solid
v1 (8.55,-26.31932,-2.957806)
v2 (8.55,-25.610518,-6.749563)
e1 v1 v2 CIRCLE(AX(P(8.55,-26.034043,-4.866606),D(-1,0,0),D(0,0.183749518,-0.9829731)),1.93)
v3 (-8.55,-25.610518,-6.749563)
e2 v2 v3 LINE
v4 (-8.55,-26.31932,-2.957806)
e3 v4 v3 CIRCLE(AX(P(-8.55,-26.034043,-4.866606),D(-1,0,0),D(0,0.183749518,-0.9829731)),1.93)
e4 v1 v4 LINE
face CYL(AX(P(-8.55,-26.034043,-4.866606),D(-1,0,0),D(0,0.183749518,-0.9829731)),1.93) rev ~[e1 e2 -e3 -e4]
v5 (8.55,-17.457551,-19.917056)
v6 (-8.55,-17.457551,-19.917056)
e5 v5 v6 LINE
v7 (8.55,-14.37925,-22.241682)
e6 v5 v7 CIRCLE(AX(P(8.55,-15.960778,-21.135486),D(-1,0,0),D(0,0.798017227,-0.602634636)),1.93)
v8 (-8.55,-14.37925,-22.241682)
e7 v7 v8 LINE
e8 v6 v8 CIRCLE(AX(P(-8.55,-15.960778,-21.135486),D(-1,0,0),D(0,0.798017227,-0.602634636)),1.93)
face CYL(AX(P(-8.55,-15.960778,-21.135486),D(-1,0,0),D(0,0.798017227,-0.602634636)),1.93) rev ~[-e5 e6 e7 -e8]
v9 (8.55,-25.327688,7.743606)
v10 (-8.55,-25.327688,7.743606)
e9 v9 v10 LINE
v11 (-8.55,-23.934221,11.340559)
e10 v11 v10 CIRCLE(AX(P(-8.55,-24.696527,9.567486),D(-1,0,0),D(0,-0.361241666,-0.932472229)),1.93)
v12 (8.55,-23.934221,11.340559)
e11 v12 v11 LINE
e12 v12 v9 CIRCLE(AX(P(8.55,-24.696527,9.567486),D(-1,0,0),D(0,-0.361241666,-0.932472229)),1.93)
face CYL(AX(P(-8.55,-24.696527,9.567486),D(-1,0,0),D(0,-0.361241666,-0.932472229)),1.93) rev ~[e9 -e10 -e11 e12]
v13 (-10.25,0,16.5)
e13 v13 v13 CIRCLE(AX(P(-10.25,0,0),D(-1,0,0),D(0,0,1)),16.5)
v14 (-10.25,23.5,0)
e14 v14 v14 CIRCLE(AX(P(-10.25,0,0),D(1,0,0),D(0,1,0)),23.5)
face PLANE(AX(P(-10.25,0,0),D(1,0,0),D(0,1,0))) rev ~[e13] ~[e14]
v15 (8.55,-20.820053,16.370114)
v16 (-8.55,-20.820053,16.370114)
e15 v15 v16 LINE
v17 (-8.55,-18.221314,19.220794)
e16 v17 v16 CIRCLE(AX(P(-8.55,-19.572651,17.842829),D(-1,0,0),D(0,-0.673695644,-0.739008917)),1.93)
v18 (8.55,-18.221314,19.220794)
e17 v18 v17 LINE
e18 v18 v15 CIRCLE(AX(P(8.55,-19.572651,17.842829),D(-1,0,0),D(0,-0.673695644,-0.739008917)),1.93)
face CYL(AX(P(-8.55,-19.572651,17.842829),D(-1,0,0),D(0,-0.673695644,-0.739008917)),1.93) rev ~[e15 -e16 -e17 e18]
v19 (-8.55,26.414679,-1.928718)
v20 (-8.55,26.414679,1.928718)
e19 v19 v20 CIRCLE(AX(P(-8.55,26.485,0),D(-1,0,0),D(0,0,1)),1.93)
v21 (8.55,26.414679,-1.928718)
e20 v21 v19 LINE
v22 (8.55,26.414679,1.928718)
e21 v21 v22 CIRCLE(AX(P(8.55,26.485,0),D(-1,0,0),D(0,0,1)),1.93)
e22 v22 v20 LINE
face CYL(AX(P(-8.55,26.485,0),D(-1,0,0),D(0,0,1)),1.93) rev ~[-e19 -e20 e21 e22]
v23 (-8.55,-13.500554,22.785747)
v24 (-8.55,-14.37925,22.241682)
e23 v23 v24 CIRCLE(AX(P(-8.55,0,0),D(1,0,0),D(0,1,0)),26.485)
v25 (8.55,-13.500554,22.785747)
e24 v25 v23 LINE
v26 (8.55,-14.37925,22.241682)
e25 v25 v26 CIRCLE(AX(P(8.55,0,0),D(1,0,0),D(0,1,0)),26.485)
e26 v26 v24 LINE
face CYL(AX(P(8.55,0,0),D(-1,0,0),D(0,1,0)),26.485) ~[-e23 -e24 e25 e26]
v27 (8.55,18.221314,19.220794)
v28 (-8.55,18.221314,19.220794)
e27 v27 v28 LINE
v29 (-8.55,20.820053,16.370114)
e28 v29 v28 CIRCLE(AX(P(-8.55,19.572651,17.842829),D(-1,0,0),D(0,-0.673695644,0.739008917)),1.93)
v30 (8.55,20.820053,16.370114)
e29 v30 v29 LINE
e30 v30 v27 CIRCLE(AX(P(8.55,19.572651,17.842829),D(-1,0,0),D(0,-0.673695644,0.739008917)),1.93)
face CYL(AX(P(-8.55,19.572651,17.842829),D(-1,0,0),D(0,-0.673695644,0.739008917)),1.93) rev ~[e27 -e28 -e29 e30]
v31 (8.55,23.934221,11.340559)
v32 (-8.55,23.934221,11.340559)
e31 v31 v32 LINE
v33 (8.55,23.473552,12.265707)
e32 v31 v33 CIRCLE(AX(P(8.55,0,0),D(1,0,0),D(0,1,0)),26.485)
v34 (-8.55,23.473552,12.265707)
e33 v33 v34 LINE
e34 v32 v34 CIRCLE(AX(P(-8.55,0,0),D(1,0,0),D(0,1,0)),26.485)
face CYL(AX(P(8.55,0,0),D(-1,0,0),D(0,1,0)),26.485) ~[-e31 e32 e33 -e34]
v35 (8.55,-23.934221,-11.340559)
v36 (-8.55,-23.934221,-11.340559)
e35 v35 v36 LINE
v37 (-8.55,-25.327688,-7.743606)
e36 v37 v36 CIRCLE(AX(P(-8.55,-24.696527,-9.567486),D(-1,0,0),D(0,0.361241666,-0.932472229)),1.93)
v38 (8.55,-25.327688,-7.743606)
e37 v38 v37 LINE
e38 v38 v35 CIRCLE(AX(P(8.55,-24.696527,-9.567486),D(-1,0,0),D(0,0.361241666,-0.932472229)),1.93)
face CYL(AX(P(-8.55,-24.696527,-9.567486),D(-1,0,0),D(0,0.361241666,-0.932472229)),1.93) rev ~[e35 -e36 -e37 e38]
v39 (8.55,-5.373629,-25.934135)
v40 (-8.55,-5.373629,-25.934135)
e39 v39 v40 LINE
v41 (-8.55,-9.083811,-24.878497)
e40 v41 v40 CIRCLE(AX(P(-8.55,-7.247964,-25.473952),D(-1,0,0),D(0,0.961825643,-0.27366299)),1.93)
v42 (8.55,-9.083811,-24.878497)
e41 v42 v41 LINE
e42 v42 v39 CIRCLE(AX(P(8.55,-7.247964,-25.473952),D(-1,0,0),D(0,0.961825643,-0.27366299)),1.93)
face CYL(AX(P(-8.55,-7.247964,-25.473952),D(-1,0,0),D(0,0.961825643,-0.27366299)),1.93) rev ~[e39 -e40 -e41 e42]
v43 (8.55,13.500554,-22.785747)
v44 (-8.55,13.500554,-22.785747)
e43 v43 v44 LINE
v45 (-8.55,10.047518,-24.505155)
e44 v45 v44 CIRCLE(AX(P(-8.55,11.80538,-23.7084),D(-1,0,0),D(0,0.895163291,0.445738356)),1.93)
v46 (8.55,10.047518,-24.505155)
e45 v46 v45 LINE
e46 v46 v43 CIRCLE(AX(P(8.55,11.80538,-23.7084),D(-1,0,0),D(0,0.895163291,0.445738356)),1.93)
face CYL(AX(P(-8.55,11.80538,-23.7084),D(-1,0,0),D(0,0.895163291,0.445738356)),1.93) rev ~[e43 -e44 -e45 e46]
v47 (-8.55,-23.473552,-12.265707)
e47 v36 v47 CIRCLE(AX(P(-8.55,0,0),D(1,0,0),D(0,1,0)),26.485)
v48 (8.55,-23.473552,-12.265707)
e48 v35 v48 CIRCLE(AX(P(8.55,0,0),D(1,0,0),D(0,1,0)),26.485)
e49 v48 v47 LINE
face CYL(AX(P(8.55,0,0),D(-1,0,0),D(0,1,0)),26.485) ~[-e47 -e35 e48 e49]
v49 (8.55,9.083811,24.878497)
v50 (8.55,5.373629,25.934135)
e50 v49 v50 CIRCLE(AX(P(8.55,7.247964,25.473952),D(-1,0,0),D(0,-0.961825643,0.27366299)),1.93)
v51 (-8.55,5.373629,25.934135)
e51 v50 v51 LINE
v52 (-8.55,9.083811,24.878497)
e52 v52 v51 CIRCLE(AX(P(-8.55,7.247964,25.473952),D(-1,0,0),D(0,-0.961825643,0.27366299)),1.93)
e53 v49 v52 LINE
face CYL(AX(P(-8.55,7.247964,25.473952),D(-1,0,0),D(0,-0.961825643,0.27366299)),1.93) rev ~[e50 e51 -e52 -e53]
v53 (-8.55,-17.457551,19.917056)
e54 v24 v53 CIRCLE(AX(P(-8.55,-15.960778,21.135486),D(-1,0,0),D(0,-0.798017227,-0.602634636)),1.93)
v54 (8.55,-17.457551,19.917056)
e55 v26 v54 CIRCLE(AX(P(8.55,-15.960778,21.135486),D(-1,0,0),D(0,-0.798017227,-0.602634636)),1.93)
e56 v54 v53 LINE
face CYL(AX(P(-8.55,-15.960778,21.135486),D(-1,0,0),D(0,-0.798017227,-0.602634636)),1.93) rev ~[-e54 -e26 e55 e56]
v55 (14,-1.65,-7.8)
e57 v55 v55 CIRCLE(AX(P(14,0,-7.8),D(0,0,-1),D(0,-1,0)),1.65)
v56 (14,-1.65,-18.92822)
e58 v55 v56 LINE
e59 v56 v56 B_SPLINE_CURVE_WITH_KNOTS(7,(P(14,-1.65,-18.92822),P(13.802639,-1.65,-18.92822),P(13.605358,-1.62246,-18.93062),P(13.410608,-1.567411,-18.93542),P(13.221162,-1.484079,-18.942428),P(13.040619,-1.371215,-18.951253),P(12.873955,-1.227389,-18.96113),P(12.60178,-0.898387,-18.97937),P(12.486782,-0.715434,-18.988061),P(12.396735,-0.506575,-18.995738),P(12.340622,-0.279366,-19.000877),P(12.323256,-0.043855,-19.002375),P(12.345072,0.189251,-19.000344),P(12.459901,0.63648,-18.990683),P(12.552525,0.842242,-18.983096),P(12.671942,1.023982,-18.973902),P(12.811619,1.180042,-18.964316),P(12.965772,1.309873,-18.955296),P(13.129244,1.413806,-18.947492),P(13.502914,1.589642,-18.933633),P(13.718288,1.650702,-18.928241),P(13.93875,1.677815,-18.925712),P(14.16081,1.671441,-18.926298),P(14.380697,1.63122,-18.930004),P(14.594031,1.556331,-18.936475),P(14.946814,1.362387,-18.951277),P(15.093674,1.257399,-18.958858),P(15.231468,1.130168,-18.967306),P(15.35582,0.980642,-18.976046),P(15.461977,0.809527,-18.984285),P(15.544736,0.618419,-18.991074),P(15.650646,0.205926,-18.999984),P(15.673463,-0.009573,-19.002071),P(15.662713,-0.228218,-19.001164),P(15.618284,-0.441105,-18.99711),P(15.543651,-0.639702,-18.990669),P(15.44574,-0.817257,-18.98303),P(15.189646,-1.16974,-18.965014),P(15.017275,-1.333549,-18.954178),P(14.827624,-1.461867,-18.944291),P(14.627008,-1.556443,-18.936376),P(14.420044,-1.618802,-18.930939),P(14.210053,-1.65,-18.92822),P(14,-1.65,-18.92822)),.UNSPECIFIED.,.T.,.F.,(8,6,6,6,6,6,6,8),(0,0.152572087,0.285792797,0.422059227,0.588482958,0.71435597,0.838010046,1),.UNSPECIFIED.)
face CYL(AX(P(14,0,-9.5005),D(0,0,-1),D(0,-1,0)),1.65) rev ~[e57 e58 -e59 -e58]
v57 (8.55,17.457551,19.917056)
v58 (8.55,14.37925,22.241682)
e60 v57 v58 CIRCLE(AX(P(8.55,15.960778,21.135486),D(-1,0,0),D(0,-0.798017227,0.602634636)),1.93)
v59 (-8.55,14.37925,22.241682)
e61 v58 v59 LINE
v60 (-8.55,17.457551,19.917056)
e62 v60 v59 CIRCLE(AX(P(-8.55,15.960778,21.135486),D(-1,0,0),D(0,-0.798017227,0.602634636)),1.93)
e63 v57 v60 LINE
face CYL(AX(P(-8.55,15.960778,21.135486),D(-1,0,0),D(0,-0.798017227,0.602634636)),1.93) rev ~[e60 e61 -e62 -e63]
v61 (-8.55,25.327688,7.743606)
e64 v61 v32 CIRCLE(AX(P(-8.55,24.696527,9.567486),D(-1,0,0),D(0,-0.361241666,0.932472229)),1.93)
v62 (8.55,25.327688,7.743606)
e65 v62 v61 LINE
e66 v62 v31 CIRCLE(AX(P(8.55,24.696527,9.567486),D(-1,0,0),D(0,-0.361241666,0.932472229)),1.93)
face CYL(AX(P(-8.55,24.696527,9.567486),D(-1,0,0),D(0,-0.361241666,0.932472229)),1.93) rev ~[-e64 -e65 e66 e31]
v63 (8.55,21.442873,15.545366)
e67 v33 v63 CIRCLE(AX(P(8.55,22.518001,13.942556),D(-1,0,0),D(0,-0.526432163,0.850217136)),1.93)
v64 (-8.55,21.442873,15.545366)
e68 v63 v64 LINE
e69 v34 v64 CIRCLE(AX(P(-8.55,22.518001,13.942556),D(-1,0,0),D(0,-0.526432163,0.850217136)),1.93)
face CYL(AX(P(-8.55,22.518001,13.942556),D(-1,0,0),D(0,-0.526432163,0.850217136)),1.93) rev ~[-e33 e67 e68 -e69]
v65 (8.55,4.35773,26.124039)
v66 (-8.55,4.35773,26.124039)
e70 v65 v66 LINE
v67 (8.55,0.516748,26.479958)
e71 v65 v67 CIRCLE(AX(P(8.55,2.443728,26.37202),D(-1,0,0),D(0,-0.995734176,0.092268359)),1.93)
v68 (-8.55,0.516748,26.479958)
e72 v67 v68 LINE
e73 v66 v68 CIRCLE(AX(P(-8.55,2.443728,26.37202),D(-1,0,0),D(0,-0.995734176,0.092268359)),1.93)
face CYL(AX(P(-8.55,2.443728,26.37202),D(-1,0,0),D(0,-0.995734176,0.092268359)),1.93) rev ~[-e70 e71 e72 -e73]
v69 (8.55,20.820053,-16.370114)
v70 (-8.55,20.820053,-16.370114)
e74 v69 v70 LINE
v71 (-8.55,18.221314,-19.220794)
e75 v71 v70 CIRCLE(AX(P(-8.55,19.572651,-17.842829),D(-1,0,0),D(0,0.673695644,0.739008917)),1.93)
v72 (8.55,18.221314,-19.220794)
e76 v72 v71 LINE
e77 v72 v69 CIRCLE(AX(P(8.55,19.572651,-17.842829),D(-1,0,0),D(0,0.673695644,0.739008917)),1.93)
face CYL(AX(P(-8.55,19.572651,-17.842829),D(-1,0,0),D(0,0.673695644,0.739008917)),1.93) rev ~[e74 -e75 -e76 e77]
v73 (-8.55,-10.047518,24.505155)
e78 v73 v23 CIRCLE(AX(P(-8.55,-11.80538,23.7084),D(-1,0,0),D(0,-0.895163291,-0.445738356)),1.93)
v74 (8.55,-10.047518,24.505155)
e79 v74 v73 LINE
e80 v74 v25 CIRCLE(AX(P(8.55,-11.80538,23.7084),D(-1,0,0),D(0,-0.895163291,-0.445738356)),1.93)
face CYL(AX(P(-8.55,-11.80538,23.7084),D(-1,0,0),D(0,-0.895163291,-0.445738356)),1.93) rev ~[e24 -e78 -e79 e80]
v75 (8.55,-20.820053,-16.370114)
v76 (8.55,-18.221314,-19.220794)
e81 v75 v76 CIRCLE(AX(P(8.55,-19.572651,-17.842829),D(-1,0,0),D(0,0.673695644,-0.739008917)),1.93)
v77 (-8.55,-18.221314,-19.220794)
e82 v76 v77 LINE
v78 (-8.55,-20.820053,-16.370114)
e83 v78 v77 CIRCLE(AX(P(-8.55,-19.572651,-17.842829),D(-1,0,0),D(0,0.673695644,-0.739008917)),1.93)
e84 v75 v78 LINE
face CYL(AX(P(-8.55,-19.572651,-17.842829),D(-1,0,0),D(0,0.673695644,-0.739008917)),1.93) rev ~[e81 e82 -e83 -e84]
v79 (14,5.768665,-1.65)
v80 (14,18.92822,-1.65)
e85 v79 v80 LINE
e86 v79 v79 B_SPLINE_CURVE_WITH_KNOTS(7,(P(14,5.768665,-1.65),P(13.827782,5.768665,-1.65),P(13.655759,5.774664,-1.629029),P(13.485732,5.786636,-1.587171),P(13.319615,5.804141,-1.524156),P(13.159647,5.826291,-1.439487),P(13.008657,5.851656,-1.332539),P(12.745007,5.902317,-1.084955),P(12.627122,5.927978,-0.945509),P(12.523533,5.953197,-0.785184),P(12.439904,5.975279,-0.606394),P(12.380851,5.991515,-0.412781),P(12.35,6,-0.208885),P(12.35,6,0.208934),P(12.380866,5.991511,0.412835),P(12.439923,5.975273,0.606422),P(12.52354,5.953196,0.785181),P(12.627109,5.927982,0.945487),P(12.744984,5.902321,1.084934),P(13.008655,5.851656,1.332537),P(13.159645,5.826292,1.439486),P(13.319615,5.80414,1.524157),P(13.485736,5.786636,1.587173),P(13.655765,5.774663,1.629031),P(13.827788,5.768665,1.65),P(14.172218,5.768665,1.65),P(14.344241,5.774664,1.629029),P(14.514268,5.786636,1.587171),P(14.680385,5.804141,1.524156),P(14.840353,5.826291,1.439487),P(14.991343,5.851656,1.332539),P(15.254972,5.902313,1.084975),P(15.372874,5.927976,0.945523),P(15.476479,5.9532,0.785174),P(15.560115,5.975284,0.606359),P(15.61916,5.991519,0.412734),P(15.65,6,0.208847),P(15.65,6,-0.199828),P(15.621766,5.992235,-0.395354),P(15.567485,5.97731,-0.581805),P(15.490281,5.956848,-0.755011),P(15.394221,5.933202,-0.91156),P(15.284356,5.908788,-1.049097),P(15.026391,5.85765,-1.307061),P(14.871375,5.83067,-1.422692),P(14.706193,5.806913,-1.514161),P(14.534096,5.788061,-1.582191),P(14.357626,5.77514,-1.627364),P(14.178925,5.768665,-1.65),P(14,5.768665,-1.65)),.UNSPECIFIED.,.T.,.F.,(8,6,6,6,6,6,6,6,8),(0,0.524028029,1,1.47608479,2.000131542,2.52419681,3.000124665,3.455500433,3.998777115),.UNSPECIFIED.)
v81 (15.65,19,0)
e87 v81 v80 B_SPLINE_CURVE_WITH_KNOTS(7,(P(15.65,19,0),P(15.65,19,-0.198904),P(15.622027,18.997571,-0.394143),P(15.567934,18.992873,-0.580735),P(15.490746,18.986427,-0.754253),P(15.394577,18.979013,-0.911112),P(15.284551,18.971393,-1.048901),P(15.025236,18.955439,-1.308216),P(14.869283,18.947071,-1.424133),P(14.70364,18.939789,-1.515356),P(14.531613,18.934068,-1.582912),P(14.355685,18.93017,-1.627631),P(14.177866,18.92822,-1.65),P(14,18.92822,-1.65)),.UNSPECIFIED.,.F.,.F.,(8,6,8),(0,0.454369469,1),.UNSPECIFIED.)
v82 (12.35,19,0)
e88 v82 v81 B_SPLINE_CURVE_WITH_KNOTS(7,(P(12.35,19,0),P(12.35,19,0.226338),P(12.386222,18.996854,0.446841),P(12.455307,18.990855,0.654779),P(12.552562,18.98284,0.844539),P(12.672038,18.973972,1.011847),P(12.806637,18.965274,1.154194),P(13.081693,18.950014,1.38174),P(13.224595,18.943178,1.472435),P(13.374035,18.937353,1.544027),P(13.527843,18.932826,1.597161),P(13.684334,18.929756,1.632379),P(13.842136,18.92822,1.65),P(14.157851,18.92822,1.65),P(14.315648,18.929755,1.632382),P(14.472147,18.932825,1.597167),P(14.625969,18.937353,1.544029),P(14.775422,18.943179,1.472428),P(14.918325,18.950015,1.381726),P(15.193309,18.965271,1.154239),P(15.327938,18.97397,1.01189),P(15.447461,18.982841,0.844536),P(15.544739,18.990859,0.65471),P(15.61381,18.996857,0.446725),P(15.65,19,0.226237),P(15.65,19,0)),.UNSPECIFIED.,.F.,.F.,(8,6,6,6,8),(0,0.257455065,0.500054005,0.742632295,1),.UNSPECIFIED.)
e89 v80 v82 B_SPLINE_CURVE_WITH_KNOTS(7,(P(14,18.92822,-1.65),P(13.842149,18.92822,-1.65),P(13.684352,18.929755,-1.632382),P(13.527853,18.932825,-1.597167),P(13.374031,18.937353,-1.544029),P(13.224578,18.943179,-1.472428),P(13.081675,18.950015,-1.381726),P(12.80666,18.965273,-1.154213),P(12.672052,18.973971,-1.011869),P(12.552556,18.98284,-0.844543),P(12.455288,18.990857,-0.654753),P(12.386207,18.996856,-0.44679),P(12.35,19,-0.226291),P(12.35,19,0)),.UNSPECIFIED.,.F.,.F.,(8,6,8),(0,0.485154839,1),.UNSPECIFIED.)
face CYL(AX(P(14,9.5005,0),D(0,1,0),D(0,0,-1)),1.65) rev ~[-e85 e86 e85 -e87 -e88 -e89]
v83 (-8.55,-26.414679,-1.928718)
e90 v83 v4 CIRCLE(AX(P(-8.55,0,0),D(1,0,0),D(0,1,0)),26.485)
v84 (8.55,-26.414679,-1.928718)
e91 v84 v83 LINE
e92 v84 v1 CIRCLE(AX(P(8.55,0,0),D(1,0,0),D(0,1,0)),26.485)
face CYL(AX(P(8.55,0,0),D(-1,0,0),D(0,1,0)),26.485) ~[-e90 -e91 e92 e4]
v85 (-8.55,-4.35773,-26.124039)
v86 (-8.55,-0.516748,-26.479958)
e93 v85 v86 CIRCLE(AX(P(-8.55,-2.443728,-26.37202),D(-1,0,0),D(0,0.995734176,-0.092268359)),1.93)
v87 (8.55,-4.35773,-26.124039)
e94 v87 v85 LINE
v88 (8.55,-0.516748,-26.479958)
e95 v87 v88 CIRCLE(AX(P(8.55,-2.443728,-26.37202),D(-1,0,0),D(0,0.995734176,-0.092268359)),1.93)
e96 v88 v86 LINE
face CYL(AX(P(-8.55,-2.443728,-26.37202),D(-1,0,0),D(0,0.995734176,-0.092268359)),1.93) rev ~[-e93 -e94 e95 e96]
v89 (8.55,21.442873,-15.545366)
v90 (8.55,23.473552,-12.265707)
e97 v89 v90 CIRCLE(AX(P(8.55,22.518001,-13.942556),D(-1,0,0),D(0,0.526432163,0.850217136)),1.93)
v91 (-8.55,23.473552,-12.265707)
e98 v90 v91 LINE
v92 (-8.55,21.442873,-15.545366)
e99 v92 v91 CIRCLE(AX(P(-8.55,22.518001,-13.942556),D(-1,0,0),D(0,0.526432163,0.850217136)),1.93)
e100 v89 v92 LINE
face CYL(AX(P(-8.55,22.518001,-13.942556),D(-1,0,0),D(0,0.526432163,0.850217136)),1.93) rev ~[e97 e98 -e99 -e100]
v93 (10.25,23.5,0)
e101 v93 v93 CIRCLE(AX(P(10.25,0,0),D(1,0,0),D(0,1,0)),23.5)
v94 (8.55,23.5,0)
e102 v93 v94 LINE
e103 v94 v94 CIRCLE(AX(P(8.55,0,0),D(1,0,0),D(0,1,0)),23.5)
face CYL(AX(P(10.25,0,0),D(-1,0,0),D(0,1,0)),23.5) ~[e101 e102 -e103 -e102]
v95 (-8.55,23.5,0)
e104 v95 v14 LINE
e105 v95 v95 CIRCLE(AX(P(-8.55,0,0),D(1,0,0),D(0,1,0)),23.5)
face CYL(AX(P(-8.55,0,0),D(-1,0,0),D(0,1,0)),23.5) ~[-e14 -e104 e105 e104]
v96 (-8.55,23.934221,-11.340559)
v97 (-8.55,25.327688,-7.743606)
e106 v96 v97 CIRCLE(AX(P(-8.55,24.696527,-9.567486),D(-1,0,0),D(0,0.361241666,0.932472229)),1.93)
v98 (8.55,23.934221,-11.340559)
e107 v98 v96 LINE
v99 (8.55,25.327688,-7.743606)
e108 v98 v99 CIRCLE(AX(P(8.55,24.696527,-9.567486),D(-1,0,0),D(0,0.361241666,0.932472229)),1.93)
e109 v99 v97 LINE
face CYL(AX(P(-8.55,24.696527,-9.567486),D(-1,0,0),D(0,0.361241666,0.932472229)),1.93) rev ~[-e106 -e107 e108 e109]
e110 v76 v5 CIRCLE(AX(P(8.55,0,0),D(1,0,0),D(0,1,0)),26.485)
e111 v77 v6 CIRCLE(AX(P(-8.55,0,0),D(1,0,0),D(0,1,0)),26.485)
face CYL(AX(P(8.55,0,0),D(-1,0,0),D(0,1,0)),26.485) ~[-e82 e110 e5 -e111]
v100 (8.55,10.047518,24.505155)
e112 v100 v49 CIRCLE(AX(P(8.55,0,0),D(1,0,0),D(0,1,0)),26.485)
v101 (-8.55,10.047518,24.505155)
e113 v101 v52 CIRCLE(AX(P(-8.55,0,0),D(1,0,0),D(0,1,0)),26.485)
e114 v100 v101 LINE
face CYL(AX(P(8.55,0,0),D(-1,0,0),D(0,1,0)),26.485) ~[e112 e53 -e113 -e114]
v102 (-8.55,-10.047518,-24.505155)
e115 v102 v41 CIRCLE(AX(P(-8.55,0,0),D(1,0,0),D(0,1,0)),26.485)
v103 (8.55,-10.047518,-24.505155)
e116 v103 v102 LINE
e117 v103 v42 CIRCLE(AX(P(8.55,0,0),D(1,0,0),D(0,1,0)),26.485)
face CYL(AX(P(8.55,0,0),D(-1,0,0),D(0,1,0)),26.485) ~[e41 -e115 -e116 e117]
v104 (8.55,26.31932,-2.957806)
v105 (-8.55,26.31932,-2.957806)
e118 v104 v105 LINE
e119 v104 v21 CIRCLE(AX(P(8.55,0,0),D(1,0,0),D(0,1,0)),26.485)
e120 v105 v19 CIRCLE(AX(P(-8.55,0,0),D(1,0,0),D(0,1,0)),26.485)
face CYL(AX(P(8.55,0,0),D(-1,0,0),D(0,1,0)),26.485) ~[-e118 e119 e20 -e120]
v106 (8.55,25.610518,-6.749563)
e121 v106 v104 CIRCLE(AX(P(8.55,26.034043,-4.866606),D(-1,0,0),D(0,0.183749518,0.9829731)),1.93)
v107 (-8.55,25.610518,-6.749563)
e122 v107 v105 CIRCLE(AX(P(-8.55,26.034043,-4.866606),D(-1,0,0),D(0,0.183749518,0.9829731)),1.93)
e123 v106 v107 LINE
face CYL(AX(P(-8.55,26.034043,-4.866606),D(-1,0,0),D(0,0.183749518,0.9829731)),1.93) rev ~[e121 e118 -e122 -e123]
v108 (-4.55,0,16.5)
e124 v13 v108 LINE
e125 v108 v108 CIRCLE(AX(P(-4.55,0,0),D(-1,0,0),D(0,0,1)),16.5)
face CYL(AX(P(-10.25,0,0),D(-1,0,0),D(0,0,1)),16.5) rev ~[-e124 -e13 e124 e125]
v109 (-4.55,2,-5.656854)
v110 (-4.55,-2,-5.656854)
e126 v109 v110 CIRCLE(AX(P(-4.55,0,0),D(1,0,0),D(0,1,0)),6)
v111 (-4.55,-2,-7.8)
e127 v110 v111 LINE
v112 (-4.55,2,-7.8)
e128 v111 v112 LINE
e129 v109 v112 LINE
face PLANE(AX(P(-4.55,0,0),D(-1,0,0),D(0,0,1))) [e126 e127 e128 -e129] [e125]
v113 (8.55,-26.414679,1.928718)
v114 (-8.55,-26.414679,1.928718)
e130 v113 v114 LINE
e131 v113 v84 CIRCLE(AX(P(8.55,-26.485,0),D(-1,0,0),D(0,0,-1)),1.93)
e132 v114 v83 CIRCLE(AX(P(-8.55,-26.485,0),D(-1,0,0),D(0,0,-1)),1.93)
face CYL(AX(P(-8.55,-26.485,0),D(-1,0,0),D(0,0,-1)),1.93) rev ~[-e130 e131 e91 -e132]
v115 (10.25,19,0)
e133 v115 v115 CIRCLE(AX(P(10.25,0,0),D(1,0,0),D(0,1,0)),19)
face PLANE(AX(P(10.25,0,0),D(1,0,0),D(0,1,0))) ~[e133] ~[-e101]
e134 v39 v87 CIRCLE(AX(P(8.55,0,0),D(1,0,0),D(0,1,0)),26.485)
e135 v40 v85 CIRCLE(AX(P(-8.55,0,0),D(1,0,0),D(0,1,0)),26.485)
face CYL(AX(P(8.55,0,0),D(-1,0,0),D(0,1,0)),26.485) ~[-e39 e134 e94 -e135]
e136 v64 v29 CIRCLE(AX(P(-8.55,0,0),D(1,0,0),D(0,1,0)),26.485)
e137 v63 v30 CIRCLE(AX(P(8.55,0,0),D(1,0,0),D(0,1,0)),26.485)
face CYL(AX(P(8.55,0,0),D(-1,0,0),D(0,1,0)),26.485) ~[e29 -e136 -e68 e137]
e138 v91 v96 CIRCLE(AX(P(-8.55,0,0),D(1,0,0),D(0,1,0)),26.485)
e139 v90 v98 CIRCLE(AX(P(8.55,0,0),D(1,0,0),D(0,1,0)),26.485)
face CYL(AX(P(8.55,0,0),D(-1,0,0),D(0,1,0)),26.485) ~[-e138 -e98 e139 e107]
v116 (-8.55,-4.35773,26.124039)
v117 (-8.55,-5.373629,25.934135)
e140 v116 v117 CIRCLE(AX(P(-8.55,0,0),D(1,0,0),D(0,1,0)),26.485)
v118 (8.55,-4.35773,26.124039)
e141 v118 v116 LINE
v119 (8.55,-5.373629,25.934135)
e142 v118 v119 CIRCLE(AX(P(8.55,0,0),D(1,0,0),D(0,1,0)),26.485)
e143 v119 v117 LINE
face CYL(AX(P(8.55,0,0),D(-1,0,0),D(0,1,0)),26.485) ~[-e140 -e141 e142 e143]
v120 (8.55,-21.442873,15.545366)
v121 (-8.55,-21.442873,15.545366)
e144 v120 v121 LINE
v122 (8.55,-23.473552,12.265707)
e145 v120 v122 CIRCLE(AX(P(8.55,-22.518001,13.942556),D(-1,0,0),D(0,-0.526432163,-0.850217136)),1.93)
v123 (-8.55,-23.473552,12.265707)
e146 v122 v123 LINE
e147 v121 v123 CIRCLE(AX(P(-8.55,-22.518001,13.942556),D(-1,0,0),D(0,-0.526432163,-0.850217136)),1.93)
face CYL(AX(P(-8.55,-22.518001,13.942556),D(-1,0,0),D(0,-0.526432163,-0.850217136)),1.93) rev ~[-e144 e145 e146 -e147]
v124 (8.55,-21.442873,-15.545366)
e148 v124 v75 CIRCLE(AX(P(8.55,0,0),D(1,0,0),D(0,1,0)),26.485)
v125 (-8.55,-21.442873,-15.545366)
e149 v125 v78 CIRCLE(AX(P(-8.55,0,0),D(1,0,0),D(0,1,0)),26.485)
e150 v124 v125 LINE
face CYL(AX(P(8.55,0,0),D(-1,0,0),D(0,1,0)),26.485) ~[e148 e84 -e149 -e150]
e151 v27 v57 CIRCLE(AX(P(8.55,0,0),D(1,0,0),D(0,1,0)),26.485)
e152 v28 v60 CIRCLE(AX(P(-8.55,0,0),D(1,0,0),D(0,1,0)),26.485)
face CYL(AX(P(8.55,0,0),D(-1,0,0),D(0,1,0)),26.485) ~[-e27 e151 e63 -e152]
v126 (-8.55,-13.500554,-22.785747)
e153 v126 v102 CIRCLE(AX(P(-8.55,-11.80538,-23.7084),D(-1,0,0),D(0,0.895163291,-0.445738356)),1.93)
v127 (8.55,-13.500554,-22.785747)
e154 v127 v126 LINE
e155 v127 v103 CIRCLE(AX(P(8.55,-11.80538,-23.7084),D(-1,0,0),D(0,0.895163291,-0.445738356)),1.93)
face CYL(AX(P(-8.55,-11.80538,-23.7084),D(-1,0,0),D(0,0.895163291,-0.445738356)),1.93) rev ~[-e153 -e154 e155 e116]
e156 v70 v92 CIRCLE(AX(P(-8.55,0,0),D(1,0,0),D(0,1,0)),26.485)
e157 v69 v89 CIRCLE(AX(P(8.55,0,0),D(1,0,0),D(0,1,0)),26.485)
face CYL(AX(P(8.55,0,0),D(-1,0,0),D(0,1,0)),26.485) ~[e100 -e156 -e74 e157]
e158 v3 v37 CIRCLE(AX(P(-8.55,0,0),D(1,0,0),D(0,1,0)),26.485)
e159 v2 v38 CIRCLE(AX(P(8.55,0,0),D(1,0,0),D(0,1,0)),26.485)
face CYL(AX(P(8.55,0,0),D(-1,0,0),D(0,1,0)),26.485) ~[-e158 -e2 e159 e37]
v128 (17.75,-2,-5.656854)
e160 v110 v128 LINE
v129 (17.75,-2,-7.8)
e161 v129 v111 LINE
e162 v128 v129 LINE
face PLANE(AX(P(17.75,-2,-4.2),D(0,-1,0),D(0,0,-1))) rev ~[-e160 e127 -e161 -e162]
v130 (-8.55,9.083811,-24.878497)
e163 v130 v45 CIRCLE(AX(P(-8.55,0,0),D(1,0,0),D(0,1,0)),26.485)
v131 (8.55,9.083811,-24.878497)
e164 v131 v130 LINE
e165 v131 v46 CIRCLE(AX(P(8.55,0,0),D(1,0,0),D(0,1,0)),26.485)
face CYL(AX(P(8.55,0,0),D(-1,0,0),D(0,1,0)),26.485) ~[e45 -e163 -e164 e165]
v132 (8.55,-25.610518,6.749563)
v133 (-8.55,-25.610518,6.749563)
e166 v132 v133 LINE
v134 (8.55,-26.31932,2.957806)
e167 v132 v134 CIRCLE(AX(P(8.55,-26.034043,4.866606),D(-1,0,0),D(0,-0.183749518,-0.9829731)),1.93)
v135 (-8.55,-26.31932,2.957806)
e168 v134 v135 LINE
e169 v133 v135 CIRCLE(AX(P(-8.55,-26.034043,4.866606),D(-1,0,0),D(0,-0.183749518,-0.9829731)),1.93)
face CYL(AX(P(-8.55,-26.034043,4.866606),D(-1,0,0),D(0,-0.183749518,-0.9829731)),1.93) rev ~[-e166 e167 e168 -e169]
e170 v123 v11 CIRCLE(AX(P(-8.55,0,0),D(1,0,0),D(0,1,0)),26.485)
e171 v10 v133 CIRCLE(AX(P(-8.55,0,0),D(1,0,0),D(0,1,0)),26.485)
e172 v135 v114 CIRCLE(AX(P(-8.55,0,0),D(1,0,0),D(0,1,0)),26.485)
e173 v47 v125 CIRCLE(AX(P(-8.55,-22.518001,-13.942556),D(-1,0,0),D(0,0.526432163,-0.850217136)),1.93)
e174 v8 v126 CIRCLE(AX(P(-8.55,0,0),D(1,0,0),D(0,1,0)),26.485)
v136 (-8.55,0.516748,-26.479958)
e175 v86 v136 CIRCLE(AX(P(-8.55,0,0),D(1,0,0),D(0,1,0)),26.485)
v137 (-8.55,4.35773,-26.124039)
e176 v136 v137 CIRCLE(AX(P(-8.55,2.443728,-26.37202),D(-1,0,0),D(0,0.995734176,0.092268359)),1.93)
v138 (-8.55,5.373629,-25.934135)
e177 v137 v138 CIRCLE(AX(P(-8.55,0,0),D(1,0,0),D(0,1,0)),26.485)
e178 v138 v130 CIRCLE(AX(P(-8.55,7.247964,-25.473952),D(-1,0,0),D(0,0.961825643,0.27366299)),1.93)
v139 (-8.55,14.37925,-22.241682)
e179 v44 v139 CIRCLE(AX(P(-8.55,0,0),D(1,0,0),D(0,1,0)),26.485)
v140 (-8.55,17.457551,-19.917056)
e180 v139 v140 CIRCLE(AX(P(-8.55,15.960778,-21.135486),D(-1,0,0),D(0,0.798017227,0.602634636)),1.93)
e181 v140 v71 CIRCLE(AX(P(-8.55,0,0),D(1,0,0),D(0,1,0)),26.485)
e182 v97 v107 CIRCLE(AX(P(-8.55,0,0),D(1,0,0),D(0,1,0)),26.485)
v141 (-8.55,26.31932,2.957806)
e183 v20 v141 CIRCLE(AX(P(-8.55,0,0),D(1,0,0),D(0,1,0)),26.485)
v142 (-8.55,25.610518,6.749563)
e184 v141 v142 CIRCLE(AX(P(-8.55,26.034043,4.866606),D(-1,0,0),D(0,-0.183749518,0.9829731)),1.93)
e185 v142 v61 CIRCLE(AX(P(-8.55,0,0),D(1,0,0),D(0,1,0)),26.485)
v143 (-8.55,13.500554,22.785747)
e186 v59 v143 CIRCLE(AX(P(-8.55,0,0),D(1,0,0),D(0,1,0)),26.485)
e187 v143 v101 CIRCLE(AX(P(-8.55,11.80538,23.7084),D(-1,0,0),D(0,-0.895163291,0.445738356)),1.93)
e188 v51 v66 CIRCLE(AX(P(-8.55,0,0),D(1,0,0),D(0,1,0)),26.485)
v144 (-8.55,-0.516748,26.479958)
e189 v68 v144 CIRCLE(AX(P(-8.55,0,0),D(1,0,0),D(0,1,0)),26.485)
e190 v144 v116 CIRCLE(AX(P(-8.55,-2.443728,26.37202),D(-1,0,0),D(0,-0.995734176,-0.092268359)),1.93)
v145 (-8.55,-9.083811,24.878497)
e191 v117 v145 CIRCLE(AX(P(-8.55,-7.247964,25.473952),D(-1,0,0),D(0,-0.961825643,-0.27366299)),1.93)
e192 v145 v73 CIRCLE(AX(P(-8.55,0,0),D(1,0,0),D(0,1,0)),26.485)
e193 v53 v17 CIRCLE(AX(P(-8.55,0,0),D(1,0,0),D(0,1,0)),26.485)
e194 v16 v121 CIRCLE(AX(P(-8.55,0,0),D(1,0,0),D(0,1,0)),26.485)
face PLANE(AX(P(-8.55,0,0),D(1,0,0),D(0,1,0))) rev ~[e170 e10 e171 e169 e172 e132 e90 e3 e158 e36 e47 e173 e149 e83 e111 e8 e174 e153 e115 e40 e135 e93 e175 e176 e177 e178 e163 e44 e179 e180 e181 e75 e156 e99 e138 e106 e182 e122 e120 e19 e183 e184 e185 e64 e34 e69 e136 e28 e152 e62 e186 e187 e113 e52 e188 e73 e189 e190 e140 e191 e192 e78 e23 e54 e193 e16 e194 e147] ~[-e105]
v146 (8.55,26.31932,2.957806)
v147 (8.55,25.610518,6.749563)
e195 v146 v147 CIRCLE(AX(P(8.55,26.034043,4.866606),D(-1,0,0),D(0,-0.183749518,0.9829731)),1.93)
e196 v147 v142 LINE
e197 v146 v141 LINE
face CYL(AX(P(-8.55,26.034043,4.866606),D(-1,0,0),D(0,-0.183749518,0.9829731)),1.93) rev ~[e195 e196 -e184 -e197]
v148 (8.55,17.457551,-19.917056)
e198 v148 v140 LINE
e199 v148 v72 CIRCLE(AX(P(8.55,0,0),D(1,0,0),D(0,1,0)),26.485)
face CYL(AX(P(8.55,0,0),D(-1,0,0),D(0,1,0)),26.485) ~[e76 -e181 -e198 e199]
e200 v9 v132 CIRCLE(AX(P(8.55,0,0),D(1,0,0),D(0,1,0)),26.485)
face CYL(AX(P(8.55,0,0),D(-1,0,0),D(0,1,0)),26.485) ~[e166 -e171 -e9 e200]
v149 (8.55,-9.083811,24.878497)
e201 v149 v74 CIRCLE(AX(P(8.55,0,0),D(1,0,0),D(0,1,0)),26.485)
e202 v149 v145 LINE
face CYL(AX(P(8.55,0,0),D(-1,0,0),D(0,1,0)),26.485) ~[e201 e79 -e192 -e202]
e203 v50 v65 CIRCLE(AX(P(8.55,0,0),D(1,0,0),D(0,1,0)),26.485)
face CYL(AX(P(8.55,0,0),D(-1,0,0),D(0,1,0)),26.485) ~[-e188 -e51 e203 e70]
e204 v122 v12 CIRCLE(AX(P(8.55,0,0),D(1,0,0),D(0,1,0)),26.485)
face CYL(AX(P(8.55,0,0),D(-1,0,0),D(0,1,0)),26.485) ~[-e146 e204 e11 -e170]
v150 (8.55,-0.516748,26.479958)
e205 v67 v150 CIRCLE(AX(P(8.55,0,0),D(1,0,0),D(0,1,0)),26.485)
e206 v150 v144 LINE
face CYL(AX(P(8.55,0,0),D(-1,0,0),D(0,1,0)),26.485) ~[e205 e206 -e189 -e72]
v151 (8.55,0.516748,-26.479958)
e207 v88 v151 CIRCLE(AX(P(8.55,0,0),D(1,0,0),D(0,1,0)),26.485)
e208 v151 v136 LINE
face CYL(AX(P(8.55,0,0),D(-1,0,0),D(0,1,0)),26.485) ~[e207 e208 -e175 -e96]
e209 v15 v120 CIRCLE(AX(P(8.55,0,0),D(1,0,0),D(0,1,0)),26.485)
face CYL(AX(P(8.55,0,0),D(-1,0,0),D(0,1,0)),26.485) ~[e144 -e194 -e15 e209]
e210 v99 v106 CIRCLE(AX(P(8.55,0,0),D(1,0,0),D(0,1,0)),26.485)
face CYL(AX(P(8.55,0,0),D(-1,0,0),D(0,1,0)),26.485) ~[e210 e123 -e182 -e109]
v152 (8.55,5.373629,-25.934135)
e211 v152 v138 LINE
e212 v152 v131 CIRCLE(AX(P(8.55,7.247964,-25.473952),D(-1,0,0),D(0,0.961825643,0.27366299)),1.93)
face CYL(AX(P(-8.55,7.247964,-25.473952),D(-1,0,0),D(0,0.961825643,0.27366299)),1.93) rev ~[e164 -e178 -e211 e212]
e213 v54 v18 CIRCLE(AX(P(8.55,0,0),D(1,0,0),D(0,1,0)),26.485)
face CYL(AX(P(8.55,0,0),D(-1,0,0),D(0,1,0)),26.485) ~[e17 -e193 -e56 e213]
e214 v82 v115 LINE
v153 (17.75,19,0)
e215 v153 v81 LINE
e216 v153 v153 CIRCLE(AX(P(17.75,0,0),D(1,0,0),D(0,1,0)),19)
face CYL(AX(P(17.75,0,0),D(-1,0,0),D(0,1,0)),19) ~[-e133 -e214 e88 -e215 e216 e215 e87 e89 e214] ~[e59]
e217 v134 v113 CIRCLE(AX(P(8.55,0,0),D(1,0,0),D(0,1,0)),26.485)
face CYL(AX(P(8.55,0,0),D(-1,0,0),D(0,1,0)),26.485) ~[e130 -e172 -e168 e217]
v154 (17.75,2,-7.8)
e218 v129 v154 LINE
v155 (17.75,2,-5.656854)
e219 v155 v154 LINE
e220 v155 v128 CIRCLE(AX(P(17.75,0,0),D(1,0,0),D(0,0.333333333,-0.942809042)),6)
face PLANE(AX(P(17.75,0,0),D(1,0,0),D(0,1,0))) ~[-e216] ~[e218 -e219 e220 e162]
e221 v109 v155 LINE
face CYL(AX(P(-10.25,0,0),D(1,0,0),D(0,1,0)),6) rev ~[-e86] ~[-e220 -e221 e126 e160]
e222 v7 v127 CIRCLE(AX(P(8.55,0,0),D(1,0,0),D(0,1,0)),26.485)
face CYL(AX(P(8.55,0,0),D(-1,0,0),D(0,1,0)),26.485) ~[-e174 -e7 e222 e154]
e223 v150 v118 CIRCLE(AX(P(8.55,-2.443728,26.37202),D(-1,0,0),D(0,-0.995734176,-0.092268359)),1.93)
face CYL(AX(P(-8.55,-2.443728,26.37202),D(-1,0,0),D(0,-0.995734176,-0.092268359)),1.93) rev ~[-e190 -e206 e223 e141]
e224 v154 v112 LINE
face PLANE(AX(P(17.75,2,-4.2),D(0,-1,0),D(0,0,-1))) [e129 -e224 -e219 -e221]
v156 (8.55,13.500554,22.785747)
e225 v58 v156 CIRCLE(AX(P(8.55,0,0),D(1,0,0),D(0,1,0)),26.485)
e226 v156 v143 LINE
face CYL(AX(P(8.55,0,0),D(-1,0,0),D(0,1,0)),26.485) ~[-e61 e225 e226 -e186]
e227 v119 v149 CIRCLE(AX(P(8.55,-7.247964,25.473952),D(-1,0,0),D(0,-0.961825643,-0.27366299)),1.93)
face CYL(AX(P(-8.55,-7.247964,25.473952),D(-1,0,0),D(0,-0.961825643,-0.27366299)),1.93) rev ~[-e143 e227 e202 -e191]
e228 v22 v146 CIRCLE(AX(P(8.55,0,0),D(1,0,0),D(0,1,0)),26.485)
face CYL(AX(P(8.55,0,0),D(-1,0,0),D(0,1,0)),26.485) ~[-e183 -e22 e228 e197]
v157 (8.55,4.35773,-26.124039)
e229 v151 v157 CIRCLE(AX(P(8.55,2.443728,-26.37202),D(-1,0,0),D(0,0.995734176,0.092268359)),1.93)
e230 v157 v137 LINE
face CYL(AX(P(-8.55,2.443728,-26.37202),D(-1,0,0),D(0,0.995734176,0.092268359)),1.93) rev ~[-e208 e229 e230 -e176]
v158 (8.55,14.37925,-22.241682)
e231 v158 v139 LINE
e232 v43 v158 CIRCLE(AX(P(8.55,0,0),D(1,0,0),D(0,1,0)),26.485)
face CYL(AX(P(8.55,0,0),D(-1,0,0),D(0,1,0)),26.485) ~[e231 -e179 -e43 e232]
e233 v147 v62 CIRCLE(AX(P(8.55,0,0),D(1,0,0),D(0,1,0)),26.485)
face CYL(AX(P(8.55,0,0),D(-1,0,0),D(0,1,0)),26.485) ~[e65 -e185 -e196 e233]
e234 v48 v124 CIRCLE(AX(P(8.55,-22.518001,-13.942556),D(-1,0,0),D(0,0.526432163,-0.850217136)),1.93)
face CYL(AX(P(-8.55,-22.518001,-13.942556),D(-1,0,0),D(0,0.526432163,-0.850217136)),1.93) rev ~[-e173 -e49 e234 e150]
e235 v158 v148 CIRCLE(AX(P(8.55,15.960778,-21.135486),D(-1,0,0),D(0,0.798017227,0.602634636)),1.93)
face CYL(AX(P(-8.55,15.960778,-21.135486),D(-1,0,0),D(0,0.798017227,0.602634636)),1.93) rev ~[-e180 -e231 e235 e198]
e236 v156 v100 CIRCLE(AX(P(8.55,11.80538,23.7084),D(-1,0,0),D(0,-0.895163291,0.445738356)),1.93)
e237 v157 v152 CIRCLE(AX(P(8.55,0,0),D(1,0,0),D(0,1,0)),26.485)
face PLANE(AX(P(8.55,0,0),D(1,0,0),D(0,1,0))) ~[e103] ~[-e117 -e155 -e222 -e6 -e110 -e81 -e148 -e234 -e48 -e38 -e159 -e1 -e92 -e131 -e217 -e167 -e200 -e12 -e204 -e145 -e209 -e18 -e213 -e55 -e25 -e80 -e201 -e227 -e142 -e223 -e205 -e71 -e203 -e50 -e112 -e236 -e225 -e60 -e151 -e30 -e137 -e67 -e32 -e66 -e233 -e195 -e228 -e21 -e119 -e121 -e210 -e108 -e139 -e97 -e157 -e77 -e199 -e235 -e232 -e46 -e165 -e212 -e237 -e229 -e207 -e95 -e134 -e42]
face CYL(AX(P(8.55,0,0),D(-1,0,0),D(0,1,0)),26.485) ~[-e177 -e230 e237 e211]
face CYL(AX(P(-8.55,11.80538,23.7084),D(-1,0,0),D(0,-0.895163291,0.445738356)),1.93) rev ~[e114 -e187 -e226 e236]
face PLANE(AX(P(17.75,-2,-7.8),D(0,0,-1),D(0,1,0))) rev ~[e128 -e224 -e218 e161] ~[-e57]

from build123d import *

# Parameters (mm, degrees)
SKETCH2_R          = 1.93
CUT_EXTRUDE1_DEPTH = 27.3
CIRPATTERN1_COUNT  = 34
SKETCH6_W          = 1.65
SKETCH6_H          = 19.001
CIRPATTERN2_COUNT  = 2
CIRPATTERN2_ANGLE  = 90
SKETCH8_W          = 3.6
SKETCH8_H          = 4
CUT_EXTRUDE2_DEPTH = 29.0000001
SKETCH9_R          = 16.5
CUT_EXTRUDE3_DEPTH = 5.7


with BuildPart() as part:
    # Sketch1 → Revolve1 (revolve)
    with BuildSketch(Plane.XY):
        Polygon((-10.25, 6), (17.75, 6), (17.75, 19), (10.25, 19), (10.25, 23.5), (8.55, 23.5), (8.55, 26.485), (-8.55, 26.485), (-8.55, 23.5), (-10.25, 23.5), align=None)
    revolve(axis=Axis((0, 0, 0), (1, 0, 0)))

    # Sketch2 → Cut-Extrude1 (cut, through all)
    with BuildSketch(Plane.ZY.offset(8.55)):
        with Locations((0, 26.485)):
            Circle(SKETCH2_R)
    cut_extrude1 = extrude(amount=-CUT_EXTRUDE1_DEPTH, mode=Mode.SUBTRACT)

    # CirPattern1: Cut-Extrude1 ×34 about axis
    cirpattern1_axis = Axis((0, 0, 0), (1, 0, 0))
    for i in range(1, CIRPATTERN1_COUNT):
        add(cut_extrude1.rotate(cirpattern1_axis, i * 360 / CIRPATTERN1_COUNT), mode=Mode.SUBTRACT)

    # Sketch6 → M4x0.7 Tapped Hole1 (revolve, cut)
    with BuildSketch(Plane(origin=(14, 0, 0), x_dir=(0, 0, -1), z_dir=(1, 0, 0))):
        with Locations((0.825, 9.5005)):
            Rectangle(SKETCH6_W, SKETCH6_H)
    m4x0_7_tapped_hole1 = revolve(axis=Axis((14, -6.35, 0), (0, 1, 0)), mode=Mode.SUBTRACT)

    # CirPattern2: M4x0.7 Tapped Hole1 ×2 about axis
    cirpattern2_axis = Axis((0, 0, 0), (-1, 0, 0))
    for i in range(1, CIRPATTERN2_COUNT):
        add(m4x0_7_tapped_hole1.rotate(cirpattern2_axis, i * CIRPATTERN2_ANGLE / (CIRPATTERN2_COUNT - 1)), mode=Mode.SUBTRACT)

    # Sketch8 → Cut-Extrude2 (cut, through all)
    with BuildSketch(Plane(origin=(17.75, 0, 0), x_dir=(0, 0, -1), z_dir=(1, 0, 0))):
        with Locations((6, 0)):
            Rectangle(SKETCH8_W, SKETCH8_H)
    extrude(amount=-CUT_EXTRUDE2_DEPTH, mode=Mode.SUBTRACT)

    # Sketch9 → Cut-Extrude3 (cut)
    with BuildSketch(Plane.ZY.offset(10.25)):
        Circle(SKETCH9_R)
    extrude(amount=-CUT_EXTRUDE3_DEPTH, mode=Mode.SUBTRACT)


solid = part.part
